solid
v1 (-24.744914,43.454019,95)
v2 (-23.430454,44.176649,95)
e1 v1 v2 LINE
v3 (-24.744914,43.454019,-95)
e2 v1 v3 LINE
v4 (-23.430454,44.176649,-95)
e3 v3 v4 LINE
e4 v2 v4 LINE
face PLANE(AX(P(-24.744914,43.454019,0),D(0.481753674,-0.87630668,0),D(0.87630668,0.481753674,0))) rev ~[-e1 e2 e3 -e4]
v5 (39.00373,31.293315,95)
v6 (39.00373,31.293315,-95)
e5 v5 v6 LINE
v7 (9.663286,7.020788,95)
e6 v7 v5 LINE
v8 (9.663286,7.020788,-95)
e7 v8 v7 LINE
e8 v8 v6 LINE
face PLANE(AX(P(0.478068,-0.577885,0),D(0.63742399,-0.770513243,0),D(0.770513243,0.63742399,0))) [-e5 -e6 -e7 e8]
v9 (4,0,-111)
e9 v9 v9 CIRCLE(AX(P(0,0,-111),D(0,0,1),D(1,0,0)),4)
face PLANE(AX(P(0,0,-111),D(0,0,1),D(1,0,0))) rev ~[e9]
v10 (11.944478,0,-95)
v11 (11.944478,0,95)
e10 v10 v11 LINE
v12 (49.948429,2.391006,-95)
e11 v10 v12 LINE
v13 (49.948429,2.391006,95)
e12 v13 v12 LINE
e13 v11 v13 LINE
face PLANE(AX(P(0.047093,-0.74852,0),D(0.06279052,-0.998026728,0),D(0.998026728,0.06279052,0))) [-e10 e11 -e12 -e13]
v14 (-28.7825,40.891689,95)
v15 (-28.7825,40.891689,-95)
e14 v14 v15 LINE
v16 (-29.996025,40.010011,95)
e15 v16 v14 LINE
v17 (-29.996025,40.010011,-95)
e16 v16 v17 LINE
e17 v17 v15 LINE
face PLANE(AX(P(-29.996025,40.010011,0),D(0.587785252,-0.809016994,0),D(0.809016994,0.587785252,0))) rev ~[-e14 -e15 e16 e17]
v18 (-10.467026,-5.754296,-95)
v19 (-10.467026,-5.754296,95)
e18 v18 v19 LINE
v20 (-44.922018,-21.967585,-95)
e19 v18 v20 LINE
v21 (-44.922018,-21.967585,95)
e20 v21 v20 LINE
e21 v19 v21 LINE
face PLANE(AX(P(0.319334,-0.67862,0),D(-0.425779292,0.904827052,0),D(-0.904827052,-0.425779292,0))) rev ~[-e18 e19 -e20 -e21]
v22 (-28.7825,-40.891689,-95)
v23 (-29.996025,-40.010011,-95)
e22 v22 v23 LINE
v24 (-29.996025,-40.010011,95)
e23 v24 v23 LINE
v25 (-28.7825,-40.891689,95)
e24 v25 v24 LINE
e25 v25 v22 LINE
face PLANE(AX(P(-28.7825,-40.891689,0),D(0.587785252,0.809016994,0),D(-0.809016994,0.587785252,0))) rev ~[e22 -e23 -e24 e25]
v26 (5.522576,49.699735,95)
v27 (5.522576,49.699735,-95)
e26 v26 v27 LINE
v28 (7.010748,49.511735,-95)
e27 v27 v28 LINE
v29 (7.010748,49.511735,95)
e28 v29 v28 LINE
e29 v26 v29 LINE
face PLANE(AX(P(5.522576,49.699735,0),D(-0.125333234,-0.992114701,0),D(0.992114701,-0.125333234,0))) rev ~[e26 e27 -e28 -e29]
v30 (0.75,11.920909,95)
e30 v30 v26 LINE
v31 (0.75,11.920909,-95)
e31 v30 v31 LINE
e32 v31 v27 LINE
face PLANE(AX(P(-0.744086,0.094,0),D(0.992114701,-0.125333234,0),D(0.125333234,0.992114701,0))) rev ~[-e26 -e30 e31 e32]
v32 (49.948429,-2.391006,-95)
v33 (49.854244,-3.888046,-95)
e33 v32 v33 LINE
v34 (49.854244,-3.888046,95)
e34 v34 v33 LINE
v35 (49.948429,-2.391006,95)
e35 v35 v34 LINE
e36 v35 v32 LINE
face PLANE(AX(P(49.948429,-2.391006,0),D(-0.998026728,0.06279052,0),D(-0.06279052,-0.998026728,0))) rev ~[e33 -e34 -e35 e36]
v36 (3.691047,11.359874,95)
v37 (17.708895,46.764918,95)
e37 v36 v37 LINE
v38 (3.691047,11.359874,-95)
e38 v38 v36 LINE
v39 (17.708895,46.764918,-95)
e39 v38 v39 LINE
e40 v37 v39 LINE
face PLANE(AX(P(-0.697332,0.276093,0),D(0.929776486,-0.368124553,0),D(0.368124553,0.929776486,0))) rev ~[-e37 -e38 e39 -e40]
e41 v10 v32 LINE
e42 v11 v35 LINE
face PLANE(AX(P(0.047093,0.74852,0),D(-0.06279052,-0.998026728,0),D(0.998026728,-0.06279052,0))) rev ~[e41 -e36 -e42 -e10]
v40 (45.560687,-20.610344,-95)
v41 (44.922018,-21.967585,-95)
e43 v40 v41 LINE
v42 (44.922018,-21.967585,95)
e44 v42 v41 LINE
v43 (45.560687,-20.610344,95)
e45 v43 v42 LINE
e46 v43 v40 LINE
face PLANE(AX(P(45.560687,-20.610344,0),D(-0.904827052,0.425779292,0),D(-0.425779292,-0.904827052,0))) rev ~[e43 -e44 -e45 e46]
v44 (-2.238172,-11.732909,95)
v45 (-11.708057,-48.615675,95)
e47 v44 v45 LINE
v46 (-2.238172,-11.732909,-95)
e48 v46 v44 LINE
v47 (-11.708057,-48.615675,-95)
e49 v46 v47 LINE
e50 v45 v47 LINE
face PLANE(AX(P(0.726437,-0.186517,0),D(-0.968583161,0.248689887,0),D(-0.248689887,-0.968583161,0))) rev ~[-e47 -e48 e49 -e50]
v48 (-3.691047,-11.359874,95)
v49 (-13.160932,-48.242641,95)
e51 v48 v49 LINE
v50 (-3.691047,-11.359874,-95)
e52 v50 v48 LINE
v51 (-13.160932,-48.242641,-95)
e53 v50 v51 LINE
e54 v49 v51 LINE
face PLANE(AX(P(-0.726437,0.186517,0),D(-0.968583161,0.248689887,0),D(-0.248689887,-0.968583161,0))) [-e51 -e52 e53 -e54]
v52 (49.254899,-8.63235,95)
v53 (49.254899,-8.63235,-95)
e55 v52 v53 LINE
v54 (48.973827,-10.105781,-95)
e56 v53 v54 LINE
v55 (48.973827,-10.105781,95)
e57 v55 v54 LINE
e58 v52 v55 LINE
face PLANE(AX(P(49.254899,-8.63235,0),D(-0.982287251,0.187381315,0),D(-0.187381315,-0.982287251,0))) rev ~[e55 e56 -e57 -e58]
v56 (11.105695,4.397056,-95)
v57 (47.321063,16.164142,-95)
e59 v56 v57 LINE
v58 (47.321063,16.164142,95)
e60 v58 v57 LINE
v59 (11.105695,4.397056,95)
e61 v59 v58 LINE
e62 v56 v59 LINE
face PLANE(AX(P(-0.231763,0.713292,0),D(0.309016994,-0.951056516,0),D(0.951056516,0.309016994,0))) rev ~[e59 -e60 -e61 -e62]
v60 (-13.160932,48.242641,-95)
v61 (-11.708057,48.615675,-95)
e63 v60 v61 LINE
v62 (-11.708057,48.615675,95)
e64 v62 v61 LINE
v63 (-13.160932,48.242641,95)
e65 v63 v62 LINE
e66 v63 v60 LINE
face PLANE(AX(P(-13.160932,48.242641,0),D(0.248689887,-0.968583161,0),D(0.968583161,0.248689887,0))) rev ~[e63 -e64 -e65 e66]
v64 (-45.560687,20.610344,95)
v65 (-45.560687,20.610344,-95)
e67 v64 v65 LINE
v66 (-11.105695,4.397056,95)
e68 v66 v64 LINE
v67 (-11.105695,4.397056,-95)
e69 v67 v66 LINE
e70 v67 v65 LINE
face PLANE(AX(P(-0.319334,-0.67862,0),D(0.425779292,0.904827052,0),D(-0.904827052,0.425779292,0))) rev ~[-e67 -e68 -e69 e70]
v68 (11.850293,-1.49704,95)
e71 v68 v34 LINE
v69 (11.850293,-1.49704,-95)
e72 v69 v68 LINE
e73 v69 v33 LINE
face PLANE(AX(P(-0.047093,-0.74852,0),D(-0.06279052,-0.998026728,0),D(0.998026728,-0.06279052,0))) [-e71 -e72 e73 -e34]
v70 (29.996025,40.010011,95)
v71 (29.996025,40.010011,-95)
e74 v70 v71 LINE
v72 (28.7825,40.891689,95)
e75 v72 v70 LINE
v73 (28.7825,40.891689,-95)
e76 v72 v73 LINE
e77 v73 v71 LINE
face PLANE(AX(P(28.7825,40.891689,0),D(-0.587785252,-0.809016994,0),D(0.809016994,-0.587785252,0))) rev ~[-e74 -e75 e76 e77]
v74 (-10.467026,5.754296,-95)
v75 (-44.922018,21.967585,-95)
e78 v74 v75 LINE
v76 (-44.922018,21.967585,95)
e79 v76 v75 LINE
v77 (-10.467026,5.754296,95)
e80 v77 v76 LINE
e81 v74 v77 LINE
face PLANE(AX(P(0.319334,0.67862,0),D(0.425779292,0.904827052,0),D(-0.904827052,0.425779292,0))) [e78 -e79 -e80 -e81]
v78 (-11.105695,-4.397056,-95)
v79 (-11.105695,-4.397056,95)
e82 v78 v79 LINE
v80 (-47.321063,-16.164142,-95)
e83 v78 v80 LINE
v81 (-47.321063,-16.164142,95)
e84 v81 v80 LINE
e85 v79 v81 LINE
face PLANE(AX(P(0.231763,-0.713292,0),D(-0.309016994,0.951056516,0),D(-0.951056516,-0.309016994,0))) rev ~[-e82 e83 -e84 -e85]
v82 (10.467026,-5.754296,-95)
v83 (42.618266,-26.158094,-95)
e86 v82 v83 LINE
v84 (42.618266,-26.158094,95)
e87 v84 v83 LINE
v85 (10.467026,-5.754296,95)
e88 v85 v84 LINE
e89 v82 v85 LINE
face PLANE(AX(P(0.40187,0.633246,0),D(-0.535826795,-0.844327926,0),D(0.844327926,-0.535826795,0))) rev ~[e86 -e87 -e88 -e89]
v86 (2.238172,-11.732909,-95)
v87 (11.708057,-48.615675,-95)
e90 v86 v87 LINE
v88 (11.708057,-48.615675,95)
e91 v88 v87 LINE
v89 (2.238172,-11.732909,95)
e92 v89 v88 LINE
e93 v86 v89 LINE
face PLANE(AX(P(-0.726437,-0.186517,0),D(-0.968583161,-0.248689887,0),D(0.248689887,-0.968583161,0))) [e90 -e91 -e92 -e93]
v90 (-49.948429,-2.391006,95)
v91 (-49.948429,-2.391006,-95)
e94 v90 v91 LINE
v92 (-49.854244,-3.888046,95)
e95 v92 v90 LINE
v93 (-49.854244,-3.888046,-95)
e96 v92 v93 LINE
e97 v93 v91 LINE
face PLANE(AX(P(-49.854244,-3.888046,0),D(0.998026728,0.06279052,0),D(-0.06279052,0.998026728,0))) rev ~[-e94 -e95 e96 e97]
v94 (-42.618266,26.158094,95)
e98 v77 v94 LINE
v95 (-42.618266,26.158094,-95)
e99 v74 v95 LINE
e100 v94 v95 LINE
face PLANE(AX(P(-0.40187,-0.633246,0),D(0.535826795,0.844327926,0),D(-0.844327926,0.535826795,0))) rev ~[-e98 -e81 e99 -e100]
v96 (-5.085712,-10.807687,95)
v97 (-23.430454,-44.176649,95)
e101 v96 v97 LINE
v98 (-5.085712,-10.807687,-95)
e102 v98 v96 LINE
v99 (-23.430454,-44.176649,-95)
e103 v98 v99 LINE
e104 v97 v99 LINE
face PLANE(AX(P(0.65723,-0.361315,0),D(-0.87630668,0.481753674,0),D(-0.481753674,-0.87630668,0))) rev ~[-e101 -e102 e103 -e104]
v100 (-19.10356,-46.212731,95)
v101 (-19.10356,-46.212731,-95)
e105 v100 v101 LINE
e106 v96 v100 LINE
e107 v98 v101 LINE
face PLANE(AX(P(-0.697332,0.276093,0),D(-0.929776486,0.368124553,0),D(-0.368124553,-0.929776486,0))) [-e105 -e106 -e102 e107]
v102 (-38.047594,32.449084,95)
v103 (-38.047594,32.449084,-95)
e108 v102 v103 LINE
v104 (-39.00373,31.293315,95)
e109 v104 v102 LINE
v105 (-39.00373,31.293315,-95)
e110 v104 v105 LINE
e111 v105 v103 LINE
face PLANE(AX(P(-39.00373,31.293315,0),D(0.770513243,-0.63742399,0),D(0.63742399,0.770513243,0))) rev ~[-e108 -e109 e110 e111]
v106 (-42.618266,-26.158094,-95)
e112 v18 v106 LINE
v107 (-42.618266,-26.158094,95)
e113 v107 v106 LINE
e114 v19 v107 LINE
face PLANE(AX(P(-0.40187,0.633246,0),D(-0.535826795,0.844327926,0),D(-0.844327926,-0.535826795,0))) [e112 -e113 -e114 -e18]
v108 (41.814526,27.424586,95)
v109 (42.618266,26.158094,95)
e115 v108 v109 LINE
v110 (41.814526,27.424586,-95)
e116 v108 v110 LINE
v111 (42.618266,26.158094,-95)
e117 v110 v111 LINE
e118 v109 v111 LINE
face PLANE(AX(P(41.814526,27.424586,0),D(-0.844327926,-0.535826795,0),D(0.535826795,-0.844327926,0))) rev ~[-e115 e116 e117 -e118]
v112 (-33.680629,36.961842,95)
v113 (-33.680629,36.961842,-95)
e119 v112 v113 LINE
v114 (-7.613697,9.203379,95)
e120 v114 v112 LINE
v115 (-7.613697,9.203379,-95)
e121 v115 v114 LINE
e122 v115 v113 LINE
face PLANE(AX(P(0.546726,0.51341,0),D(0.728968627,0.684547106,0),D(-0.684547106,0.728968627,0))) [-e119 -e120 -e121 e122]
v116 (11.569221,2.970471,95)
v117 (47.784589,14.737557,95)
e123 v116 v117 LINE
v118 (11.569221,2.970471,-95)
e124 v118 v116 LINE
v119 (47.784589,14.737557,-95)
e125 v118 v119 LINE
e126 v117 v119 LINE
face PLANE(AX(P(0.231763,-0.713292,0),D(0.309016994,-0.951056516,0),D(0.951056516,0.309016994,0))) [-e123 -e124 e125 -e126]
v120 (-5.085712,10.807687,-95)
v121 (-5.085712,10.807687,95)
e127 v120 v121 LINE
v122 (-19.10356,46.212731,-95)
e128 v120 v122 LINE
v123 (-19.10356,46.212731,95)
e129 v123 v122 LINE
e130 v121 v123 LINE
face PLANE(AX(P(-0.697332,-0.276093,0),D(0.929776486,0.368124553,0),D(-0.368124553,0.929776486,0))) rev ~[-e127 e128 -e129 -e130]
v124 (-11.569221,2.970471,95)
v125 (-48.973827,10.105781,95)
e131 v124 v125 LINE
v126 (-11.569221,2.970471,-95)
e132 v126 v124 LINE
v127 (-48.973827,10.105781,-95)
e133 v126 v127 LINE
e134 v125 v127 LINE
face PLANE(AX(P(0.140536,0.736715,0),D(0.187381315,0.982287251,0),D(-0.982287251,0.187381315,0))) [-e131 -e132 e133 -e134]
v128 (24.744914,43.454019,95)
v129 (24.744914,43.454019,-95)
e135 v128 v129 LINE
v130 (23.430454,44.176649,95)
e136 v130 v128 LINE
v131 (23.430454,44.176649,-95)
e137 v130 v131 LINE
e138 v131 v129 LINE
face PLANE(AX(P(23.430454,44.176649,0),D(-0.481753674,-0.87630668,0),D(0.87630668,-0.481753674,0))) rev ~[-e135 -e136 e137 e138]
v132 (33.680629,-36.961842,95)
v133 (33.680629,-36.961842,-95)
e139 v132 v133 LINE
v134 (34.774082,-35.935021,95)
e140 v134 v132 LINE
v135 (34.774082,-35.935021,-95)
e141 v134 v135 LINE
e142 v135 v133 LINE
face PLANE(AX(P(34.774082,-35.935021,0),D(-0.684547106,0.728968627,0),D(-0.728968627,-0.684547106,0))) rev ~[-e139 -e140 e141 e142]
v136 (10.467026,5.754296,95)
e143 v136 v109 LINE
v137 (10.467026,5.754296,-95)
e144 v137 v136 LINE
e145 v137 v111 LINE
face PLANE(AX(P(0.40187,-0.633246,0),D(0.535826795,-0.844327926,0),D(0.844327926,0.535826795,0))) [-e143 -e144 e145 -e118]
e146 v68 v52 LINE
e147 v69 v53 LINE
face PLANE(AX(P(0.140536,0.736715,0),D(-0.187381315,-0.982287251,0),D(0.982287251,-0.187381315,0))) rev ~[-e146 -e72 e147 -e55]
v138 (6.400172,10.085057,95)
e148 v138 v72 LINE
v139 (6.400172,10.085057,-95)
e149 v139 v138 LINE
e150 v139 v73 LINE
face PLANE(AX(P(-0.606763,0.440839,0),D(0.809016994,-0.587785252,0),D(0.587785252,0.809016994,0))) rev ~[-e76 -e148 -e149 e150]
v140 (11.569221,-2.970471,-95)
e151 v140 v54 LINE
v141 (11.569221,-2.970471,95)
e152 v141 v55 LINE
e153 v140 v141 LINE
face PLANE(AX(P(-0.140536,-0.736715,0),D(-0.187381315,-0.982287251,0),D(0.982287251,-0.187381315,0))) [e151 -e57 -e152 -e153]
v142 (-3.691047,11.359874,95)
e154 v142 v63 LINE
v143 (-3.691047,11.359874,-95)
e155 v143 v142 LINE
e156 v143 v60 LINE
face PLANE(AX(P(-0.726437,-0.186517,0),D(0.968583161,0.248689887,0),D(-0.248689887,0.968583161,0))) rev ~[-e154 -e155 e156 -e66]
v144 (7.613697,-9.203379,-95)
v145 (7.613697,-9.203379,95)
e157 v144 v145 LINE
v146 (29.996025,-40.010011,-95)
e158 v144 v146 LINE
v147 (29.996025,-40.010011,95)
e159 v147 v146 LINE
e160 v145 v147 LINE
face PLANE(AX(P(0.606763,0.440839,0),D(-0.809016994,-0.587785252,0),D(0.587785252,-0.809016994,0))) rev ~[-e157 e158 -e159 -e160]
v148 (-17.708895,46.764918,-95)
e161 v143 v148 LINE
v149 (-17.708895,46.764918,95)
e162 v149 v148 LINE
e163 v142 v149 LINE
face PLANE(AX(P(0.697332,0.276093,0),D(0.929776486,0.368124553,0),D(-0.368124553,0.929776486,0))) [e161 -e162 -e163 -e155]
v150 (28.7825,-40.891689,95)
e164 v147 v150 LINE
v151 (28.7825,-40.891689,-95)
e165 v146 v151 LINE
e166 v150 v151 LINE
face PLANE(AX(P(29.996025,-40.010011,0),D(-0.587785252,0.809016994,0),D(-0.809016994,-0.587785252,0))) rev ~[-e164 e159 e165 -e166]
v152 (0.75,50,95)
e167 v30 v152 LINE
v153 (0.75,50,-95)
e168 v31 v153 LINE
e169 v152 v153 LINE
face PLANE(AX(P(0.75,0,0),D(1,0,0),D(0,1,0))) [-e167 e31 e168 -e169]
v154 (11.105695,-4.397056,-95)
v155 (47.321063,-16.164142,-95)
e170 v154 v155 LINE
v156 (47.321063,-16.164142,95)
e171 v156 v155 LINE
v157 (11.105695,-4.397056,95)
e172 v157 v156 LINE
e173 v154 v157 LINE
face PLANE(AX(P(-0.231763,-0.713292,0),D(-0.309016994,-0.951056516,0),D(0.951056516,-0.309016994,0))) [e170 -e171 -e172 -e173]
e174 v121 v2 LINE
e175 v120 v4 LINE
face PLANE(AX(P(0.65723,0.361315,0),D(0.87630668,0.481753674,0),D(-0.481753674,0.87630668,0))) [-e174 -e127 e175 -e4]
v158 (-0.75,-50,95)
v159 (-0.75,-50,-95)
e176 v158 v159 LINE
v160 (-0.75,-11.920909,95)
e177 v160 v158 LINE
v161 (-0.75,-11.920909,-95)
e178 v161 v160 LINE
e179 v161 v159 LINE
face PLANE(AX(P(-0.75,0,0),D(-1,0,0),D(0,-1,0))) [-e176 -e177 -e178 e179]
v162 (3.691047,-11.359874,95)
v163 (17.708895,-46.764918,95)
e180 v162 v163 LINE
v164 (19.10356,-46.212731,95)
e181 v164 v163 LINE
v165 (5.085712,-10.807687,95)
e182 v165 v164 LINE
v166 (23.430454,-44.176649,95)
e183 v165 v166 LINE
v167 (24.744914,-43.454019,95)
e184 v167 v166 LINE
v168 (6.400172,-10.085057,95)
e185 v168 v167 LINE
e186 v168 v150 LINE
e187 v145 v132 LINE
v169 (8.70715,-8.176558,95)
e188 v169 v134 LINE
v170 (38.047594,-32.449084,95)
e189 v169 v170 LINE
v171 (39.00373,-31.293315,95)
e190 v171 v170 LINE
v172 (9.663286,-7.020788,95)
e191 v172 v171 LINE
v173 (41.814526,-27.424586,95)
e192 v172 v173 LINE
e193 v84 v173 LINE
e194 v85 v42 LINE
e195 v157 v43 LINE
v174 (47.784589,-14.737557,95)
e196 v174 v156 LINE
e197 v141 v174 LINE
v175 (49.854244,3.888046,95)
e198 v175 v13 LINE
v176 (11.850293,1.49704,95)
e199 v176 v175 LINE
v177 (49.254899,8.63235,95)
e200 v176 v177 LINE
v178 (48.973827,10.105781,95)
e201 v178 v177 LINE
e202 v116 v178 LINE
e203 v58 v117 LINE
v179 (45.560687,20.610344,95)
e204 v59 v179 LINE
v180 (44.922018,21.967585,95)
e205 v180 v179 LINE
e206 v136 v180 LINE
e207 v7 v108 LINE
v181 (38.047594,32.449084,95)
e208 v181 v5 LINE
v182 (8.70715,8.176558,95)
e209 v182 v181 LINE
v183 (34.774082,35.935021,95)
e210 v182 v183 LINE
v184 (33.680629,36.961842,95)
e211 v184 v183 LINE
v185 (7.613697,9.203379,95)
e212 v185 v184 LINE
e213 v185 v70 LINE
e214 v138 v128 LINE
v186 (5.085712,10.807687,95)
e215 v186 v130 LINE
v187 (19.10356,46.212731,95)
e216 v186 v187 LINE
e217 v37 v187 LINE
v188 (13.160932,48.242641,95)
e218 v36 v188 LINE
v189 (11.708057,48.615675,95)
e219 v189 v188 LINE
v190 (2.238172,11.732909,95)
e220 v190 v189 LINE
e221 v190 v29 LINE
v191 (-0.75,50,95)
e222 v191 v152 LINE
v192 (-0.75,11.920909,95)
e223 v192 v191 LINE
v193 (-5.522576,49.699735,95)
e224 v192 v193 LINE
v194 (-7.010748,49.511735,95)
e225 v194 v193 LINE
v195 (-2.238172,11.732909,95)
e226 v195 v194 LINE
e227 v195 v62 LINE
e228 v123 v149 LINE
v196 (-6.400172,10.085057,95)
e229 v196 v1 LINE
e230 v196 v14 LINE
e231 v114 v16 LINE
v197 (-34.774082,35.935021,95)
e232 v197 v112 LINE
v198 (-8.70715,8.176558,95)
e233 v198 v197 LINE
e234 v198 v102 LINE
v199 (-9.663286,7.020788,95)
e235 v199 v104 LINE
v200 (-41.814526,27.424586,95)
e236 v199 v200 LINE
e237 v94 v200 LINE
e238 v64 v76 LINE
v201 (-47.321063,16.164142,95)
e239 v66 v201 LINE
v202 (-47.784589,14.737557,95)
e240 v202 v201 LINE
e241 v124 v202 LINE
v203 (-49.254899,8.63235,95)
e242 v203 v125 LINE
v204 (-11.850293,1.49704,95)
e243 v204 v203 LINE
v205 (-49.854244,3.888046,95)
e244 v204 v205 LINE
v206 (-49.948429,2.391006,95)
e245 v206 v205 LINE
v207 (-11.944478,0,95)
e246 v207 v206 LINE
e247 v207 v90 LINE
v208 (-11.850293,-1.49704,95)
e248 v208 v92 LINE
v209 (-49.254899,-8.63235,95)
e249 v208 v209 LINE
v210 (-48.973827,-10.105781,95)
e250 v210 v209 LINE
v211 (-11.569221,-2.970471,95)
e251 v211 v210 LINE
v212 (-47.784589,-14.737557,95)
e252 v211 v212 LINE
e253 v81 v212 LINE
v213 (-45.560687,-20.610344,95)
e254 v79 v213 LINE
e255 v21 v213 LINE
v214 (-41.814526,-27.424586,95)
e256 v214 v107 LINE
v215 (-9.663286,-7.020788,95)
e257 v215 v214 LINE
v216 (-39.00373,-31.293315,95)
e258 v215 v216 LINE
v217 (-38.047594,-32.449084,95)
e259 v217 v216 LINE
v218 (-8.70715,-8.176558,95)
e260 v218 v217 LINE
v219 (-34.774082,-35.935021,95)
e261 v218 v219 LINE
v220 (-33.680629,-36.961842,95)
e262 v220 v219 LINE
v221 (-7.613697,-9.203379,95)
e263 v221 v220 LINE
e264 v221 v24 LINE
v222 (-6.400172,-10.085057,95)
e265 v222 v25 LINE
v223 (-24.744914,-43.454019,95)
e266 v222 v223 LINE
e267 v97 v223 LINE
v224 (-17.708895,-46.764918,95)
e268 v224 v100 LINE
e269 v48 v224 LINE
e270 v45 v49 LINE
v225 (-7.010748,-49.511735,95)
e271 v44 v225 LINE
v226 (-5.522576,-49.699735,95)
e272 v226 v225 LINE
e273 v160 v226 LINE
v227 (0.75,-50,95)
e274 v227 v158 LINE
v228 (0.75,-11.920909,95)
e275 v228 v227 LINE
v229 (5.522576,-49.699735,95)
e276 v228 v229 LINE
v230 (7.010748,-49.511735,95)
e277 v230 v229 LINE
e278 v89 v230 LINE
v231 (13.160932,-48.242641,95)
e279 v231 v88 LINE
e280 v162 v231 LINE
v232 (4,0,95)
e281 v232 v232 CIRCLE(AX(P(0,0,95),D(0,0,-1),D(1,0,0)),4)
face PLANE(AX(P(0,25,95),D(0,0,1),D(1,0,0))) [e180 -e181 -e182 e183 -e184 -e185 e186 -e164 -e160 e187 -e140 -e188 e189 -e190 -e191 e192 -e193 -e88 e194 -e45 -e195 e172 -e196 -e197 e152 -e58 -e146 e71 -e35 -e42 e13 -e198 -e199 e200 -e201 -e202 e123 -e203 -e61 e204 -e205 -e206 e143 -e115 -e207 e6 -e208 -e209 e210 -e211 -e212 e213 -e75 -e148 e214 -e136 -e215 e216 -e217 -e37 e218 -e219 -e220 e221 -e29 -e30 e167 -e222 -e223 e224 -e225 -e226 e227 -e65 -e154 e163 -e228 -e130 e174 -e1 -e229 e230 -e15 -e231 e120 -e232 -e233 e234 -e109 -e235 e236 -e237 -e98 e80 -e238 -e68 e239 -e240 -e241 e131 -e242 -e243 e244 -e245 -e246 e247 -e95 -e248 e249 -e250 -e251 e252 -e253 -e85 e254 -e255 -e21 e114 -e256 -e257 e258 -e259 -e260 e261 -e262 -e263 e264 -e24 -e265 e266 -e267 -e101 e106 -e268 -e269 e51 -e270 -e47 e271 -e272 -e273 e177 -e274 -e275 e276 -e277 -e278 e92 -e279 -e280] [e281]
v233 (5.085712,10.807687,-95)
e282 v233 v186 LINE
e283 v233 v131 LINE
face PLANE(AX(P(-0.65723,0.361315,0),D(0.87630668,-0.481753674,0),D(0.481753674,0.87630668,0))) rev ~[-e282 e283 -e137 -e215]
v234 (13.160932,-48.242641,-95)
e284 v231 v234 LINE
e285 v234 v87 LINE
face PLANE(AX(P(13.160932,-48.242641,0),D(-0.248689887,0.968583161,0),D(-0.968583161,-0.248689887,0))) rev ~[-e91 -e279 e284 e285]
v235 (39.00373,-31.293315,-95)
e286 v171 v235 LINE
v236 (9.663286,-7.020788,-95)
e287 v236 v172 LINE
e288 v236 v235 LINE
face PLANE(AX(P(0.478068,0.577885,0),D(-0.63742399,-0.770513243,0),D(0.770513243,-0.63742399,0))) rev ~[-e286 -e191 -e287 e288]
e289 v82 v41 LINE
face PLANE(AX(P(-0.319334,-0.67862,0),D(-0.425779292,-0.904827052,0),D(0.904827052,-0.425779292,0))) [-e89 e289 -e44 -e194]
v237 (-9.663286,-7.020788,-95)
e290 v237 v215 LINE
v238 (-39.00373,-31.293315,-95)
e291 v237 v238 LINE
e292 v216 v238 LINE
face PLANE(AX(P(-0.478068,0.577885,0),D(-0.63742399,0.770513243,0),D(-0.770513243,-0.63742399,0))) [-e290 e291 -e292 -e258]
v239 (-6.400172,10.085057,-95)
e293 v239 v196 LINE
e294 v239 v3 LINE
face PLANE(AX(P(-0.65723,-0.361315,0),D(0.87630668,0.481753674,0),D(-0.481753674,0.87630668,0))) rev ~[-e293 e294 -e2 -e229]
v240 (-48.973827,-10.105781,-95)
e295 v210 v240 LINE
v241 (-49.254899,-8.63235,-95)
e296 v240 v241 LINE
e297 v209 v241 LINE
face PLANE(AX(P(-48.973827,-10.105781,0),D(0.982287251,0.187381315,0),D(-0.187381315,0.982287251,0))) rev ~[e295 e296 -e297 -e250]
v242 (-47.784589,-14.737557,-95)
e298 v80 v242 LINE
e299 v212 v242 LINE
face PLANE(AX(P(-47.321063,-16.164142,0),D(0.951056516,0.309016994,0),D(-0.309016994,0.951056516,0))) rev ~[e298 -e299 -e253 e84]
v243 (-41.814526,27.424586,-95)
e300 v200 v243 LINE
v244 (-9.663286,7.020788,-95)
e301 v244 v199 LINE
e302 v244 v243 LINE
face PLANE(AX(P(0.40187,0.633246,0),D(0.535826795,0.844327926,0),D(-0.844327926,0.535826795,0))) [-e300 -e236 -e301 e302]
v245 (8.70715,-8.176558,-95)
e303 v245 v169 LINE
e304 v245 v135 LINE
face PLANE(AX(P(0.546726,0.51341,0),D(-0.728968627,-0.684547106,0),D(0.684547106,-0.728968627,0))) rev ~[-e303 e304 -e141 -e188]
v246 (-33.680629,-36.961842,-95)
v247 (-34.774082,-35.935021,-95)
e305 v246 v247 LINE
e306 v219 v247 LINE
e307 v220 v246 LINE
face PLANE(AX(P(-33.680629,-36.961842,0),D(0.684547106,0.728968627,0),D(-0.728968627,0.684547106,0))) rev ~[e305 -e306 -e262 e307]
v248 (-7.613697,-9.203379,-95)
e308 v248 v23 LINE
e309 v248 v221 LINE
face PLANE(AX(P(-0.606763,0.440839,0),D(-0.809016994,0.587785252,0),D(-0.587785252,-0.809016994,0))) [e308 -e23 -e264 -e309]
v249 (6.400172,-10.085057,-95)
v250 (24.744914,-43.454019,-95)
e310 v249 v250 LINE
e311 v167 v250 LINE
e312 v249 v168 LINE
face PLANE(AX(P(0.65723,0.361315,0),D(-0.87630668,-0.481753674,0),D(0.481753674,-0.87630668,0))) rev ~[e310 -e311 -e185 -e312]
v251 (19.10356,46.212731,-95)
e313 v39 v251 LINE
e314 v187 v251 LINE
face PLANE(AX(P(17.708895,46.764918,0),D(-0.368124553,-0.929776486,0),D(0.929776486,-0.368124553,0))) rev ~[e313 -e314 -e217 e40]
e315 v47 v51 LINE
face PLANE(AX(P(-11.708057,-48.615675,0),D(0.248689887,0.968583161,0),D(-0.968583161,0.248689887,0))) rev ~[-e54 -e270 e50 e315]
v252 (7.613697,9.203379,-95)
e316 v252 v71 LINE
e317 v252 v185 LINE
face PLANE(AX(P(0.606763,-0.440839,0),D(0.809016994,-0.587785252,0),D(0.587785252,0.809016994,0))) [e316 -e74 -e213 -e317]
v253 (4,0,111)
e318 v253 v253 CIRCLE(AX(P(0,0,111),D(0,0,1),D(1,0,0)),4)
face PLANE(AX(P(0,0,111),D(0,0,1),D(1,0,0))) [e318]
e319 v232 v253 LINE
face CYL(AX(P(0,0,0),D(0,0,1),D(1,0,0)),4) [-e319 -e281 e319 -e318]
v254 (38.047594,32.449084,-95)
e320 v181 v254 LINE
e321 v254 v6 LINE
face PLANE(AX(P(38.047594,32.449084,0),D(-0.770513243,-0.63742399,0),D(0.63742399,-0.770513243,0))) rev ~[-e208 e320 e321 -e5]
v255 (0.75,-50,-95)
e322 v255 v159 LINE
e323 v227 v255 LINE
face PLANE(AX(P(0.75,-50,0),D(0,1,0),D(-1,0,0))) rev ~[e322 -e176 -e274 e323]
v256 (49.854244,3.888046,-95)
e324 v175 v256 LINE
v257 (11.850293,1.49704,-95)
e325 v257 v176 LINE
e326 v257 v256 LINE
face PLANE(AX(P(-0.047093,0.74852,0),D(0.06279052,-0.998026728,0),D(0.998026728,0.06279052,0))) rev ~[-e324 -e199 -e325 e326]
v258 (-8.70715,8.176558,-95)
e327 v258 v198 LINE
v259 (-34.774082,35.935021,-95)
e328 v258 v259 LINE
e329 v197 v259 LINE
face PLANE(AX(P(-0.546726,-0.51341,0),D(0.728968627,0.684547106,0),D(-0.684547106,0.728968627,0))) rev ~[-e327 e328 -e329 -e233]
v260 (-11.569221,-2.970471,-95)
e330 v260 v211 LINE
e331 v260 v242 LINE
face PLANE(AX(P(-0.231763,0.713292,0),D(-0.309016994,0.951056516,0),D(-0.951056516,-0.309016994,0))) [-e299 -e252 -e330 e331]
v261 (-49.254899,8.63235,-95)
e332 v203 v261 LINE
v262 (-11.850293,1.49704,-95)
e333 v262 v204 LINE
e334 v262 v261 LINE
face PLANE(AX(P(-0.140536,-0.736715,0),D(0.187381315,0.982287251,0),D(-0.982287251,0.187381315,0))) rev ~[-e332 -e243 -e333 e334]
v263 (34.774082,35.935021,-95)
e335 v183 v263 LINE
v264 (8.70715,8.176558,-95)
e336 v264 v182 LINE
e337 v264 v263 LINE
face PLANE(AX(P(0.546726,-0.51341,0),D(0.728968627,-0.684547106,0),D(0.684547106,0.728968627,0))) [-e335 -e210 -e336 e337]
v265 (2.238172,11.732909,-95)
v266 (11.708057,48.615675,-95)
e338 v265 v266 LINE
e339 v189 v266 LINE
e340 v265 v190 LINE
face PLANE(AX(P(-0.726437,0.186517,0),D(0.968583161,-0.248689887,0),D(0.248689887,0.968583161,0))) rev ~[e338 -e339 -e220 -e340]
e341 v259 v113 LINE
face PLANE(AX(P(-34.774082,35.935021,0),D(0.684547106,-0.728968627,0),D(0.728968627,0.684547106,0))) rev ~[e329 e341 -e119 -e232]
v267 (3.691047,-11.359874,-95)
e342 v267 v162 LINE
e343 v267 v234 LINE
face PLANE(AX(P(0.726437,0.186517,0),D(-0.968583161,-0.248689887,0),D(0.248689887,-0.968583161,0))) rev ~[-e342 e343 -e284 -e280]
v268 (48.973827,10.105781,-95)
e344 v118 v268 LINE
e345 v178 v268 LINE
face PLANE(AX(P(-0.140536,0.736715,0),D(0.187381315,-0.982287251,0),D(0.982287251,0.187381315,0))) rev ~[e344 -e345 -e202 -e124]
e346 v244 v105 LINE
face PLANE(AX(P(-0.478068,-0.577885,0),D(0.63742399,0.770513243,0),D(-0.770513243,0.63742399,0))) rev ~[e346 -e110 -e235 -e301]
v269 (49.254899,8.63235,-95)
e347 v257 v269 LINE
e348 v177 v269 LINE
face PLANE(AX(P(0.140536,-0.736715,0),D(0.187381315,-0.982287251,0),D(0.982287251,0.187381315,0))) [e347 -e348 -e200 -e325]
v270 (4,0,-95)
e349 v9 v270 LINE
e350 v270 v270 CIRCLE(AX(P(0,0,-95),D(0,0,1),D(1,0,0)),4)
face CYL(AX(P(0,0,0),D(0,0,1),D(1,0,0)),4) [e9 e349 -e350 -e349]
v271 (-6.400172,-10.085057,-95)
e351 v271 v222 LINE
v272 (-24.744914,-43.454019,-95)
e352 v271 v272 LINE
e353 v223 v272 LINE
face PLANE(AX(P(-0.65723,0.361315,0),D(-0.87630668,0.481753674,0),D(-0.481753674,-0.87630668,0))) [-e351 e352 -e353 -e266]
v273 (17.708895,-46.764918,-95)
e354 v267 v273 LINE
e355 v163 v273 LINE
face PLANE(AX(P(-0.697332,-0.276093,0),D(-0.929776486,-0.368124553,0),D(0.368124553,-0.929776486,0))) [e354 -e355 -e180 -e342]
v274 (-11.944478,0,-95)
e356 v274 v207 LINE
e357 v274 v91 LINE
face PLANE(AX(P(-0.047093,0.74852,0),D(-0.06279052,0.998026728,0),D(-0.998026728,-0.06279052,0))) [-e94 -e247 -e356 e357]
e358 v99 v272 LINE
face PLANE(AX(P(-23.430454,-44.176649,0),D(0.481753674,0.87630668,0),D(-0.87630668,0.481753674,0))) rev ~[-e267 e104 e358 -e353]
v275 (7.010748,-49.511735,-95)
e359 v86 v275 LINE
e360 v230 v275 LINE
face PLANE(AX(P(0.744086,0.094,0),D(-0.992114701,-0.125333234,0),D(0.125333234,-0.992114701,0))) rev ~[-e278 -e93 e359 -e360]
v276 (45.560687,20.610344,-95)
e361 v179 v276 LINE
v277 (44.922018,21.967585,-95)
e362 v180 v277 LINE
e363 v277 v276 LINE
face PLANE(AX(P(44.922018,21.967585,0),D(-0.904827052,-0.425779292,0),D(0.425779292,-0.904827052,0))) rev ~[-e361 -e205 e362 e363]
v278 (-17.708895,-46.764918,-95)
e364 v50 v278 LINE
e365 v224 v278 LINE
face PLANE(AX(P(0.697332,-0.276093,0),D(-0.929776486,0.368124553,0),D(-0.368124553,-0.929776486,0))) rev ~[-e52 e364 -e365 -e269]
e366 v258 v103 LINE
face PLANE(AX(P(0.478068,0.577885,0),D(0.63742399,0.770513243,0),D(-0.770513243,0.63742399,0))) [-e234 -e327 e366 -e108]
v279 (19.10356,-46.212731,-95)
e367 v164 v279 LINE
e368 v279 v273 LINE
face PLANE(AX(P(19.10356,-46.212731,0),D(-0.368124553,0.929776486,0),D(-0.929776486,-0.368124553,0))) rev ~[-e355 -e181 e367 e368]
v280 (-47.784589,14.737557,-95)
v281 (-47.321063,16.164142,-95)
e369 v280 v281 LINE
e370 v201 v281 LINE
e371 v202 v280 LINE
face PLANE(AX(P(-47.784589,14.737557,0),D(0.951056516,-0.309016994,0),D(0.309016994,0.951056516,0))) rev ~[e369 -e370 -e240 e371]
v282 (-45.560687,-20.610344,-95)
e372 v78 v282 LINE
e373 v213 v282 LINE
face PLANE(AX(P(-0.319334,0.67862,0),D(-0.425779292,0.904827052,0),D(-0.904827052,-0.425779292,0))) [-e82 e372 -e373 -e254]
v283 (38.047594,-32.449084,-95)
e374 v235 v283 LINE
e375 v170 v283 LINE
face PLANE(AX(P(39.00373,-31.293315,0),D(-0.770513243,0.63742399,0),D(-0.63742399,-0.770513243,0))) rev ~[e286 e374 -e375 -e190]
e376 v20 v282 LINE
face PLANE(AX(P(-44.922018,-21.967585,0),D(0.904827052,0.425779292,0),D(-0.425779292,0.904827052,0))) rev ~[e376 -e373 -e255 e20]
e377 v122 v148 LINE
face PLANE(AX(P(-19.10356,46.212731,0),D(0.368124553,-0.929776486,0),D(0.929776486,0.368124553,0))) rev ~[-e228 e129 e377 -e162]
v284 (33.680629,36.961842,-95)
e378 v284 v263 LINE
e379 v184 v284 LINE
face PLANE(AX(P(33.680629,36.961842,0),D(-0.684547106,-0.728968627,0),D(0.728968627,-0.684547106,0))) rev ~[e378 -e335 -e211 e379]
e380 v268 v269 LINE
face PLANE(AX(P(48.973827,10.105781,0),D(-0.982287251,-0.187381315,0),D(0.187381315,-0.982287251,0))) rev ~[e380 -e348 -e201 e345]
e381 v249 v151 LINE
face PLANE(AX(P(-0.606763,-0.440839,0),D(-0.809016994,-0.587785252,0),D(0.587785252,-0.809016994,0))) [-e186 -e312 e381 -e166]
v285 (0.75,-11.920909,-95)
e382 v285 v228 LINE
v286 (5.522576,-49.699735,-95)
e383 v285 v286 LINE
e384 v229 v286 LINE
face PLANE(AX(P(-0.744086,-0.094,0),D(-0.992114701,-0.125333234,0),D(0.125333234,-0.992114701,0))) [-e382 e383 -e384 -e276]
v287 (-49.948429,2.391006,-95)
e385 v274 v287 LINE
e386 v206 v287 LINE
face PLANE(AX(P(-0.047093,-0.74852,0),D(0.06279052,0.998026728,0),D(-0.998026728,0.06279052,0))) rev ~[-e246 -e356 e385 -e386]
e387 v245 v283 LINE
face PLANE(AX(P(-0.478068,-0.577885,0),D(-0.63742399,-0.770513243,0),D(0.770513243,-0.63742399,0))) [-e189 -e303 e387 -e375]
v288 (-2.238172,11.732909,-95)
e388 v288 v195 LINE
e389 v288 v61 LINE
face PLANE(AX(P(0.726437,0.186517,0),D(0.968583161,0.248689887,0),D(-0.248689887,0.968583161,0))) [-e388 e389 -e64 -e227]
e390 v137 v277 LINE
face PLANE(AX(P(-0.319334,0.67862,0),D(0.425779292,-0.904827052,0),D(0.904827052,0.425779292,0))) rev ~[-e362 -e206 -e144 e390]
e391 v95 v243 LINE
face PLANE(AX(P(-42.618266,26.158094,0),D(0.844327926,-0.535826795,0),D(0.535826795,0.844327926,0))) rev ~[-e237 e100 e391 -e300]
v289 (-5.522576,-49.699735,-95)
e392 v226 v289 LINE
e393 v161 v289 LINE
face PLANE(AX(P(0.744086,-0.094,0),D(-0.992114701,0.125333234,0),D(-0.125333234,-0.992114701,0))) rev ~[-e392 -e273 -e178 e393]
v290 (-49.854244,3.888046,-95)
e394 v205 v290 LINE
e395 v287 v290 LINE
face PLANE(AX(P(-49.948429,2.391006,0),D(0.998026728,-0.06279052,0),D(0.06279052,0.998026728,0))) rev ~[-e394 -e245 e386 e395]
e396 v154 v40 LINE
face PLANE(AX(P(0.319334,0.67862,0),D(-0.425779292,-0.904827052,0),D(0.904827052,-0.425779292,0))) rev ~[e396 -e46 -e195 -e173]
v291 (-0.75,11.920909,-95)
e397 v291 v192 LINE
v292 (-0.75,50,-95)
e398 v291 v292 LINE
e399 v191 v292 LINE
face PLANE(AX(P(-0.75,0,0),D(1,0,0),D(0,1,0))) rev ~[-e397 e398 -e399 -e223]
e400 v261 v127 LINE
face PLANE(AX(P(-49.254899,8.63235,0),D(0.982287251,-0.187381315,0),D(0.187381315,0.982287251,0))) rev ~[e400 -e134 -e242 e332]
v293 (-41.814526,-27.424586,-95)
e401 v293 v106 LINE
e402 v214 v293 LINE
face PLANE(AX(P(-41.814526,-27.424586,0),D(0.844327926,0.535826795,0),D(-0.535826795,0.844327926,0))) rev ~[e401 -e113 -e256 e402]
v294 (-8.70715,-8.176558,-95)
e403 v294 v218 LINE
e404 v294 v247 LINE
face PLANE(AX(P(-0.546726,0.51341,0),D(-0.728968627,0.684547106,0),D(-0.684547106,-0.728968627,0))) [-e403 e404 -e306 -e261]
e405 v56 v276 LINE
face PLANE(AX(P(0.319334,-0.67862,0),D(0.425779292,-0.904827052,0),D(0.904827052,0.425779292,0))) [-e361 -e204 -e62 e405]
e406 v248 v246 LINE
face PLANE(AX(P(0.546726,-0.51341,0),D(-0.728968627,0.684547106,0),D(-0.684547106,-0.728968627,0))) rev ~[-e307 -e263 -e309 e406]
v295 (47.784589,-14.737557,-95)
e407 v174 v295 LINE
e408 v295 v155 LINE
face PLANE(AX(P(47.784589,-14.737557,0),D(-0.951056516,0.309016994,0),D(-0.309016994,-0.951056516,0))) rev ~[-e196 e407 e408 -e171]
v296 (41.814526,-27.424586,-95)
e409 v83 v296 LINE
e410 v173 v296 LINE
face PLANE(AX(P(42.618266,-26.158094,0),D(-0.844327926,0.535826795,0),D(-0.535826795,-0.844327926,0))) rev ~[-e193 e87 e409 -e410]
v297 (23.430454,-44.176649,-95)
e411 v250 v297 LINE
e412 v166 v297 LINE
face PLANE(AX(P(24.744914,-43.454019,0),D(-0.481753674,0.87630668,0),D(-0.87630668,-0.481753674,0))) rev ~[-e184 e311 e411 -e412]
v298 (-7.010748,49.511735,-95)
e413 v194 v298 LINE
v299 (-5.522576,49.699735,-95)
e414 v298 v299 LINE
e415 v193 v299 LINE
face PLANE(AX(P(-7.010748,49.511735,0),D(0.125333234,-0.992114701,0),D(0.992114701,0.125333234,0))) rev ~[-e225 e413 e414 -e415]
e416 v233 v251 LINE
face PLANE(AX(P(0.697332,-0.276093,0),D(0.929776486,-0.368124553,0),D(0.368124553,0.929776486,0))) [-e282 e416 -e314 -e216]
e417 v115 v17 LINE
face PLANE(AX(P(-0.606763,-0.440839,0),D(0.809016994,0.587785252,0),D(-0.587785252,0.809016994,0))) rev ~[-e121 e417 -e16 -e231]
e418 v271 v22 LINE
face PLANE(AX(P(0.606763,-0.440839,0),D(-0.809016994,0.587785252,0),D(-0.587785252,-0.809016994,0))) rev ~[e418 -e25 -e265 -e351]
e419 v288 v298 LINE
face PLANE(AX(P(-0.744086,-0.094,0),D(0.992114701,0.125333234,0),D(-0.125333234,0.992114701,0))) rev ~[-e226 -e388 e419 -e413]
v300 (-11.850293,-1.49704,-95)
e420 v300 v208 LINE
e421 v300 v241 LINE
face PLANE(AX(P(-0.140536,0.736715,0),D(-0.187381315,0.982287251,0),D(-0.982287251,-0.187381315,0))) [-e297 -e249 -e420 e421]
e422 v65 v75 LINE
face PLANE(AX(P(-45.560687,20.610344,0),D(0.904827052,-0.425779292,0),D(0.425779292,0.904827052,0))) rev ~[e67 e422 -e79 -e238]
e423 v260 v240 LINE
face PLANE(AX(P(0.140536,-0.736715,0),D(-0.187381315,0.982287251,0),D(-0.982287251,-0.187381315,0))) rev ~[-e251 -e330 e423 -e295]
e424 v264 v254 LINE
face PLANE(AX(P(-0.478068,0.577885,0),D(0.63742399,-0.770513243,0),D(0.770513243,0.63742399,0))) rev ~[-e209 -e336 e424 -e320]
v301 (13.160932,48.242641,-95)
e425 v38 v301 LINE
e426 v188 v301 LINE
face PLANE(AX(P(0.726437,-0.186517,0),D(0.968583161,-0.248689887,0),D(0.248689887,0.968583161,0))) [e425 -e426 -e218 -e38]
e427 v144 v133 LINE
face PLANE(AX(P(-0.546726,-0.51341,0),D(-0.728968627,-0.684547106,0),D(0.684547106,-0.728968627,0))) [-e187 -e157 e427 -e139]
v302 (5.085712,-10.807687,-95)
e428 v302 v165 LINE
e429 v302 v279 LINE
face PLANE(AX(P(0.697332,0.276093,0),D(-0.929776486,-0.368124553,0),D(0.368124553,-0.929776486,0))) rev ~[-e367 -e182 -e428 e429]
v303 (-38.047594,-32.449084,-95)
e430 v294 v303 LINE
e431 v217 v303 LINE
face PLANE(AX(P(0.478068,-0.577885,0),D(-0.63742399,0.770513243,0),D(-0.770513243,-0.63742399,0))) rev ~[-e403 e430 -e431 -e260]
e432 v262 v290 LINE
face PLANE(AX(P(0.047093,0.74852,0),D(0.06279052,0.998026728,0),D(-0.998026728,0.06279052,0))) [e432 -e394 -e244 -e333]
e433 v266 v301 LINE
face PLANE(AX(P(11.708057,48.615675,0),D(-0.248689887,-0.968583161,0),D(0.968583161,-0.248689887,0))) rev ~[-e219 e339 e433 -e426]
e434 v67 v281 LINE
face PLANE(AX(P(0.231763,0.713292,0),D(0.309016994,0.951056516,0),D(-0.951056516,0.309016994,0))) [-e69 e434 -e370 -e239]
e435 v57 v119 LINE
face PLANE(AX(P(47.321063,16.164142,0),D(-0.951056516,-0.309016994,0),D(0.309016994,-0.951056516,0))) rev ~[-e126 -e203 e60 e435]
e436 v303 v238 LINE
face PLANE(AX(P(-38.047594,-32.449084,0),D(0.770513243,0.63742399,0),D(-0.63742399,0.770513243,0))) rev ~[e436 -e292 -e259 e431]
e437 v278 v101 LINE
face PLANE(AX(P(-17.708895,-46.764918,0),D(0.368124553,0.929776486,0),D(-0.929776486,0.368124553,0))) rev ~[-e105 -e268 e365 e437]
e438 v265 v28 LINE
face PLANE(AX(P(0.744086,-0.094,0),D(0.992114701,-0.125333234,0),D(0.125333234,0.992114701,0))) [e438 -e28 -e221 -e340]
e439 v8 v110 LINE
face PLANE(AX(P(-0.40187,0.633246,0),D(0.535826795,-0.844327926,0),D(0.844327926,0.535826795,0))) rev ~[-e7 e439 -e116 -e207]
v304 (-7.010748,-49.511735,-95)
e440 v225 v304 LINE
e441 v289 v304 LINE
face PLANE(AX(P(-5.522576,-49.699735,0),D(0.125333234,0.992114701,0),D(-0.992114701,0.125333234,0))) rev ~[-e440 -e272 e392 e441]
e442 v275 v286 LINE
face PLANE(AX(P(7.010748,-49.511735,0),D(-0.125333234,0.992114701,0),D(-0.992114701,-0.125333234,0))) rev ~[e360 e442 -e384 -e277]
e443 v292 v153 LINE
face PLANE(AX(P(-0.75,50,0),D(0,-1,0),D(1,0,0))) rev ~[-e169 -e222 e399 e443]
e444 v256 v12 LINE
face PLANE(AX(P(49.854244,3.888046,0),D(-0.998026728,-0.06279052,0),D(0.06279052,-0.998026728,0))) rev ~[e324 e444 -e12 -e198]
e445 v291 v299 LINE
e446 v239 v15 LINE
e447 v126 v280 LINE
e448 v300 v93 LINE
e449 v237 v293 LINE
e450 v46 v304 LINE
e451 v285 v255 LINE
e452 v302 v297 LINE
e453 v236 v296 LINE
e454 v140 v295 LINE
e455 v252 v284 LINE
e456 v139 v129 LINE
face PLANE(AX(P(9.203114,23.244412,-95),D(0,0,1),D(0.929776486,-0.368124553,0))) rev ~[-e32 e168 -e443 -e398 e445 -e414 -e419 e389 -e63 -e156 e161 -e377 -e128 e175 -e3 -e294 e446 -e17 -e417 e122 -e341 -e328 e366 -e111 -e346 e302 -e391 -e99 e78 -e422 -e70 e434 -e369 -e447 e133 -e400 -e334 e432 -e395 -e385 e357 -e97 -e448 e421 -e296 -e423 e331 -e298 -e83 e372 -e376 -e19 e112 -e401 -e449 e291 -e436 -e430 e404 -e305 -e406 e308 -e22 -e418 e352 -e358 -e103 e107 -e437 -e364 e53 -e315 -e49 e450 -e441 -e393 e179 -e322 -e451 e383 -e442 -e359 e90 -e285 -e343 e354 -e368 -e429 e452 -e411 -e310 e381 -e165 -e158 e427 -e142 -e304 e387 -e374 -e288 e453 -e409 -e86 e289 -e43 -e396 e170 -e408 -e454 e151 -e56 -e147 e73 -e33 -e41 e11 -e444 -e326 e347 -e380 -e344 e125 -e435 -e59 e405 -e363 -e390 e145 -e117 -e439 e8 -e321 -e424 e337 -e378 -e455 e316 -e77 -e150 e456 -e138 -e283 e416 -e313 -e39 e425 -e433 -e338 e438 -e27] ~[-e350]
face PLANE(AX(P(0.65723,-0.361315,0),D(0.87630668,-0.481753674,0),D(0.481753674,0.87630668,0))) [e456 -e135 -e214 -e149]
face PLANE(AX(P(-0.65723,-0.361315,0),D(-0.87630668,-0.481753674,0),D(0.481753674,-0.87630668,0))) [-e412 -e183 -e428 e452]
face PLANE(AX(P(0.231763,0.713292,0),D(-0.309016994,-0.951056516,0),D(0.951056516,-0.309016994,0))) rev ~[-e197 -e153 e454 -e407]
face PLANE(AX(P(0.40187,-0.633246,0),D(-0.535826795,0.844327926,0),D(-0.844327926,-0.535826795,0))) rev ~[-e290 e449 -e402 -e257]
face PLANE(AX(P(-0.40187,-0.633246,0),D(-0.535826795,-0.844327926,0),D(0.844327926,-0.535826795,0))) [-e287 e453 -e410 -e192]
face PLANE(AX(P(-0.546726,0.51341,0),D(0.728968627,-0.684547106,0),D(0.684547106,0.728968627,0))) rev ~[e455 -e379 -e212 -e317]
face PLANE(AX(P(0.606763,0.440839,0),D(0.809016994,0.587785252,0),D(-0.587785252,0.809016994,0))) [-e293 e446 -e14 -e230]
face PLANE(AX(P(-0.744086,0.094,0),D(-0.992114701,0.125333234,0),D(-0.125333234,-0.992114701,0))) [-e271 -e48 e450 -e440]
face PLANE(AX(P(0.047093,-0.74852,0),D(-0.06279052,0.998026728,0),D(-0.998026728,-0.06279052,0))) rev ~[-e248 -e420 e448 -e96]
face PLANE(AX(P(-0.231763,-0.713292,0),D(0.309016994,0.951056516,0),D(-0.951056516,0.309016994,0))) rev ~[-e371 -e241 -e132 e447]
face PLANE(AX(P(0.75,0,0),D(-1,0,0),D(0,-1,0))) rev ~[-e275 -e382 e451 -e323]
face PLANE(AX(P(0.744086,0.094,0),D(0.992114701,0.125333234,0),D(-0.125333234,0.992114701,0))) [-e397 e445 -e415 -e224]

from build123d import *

# Parameters (mm, degrees)
SKETCH4_R           = 4
BOSS_EXTRUDE1_DEPTH = 111
SKETCH6_W           = 1.5
SKETCH6_H           = 50
BOSS_EXTRUDE2_DEPTH = 95
CIRPATTERN1_COUNT   = 50


with BuildPart() as part:
    # Sketch4 → Boss-Extrude1 (new, symmetric)
    with BuildSketch(Plane.XY):
        Circle(SKETCH4_R)
    extrude(amount=BOSS_EXTRUDE1_DEPTH, both=True)

    # Sketch6 → Boss-Extrude2 (add, symmetric)
    with BuildSketch(Plane.XY):
        with Locations((0, 25)):
            Rectangle(SKETCH6_W, SKETCH6_H)
    boss_extrude2 = extrude(amount=BOSS_EXTRUDE2_DEPTH, both=True)

    # CirPattern1: Boss-Extrude2 ×50 about axis
    cirpattern1_axis = Axis((0, 0, 0), (0, 0, 1))
    for i in range(1, CIRPATTERN1_COUNT):
        add(boss_extrude2.rotate(cirpattern1_axis, i * 360 / CIRPATTERN1_COUNT))


solid = part.part
